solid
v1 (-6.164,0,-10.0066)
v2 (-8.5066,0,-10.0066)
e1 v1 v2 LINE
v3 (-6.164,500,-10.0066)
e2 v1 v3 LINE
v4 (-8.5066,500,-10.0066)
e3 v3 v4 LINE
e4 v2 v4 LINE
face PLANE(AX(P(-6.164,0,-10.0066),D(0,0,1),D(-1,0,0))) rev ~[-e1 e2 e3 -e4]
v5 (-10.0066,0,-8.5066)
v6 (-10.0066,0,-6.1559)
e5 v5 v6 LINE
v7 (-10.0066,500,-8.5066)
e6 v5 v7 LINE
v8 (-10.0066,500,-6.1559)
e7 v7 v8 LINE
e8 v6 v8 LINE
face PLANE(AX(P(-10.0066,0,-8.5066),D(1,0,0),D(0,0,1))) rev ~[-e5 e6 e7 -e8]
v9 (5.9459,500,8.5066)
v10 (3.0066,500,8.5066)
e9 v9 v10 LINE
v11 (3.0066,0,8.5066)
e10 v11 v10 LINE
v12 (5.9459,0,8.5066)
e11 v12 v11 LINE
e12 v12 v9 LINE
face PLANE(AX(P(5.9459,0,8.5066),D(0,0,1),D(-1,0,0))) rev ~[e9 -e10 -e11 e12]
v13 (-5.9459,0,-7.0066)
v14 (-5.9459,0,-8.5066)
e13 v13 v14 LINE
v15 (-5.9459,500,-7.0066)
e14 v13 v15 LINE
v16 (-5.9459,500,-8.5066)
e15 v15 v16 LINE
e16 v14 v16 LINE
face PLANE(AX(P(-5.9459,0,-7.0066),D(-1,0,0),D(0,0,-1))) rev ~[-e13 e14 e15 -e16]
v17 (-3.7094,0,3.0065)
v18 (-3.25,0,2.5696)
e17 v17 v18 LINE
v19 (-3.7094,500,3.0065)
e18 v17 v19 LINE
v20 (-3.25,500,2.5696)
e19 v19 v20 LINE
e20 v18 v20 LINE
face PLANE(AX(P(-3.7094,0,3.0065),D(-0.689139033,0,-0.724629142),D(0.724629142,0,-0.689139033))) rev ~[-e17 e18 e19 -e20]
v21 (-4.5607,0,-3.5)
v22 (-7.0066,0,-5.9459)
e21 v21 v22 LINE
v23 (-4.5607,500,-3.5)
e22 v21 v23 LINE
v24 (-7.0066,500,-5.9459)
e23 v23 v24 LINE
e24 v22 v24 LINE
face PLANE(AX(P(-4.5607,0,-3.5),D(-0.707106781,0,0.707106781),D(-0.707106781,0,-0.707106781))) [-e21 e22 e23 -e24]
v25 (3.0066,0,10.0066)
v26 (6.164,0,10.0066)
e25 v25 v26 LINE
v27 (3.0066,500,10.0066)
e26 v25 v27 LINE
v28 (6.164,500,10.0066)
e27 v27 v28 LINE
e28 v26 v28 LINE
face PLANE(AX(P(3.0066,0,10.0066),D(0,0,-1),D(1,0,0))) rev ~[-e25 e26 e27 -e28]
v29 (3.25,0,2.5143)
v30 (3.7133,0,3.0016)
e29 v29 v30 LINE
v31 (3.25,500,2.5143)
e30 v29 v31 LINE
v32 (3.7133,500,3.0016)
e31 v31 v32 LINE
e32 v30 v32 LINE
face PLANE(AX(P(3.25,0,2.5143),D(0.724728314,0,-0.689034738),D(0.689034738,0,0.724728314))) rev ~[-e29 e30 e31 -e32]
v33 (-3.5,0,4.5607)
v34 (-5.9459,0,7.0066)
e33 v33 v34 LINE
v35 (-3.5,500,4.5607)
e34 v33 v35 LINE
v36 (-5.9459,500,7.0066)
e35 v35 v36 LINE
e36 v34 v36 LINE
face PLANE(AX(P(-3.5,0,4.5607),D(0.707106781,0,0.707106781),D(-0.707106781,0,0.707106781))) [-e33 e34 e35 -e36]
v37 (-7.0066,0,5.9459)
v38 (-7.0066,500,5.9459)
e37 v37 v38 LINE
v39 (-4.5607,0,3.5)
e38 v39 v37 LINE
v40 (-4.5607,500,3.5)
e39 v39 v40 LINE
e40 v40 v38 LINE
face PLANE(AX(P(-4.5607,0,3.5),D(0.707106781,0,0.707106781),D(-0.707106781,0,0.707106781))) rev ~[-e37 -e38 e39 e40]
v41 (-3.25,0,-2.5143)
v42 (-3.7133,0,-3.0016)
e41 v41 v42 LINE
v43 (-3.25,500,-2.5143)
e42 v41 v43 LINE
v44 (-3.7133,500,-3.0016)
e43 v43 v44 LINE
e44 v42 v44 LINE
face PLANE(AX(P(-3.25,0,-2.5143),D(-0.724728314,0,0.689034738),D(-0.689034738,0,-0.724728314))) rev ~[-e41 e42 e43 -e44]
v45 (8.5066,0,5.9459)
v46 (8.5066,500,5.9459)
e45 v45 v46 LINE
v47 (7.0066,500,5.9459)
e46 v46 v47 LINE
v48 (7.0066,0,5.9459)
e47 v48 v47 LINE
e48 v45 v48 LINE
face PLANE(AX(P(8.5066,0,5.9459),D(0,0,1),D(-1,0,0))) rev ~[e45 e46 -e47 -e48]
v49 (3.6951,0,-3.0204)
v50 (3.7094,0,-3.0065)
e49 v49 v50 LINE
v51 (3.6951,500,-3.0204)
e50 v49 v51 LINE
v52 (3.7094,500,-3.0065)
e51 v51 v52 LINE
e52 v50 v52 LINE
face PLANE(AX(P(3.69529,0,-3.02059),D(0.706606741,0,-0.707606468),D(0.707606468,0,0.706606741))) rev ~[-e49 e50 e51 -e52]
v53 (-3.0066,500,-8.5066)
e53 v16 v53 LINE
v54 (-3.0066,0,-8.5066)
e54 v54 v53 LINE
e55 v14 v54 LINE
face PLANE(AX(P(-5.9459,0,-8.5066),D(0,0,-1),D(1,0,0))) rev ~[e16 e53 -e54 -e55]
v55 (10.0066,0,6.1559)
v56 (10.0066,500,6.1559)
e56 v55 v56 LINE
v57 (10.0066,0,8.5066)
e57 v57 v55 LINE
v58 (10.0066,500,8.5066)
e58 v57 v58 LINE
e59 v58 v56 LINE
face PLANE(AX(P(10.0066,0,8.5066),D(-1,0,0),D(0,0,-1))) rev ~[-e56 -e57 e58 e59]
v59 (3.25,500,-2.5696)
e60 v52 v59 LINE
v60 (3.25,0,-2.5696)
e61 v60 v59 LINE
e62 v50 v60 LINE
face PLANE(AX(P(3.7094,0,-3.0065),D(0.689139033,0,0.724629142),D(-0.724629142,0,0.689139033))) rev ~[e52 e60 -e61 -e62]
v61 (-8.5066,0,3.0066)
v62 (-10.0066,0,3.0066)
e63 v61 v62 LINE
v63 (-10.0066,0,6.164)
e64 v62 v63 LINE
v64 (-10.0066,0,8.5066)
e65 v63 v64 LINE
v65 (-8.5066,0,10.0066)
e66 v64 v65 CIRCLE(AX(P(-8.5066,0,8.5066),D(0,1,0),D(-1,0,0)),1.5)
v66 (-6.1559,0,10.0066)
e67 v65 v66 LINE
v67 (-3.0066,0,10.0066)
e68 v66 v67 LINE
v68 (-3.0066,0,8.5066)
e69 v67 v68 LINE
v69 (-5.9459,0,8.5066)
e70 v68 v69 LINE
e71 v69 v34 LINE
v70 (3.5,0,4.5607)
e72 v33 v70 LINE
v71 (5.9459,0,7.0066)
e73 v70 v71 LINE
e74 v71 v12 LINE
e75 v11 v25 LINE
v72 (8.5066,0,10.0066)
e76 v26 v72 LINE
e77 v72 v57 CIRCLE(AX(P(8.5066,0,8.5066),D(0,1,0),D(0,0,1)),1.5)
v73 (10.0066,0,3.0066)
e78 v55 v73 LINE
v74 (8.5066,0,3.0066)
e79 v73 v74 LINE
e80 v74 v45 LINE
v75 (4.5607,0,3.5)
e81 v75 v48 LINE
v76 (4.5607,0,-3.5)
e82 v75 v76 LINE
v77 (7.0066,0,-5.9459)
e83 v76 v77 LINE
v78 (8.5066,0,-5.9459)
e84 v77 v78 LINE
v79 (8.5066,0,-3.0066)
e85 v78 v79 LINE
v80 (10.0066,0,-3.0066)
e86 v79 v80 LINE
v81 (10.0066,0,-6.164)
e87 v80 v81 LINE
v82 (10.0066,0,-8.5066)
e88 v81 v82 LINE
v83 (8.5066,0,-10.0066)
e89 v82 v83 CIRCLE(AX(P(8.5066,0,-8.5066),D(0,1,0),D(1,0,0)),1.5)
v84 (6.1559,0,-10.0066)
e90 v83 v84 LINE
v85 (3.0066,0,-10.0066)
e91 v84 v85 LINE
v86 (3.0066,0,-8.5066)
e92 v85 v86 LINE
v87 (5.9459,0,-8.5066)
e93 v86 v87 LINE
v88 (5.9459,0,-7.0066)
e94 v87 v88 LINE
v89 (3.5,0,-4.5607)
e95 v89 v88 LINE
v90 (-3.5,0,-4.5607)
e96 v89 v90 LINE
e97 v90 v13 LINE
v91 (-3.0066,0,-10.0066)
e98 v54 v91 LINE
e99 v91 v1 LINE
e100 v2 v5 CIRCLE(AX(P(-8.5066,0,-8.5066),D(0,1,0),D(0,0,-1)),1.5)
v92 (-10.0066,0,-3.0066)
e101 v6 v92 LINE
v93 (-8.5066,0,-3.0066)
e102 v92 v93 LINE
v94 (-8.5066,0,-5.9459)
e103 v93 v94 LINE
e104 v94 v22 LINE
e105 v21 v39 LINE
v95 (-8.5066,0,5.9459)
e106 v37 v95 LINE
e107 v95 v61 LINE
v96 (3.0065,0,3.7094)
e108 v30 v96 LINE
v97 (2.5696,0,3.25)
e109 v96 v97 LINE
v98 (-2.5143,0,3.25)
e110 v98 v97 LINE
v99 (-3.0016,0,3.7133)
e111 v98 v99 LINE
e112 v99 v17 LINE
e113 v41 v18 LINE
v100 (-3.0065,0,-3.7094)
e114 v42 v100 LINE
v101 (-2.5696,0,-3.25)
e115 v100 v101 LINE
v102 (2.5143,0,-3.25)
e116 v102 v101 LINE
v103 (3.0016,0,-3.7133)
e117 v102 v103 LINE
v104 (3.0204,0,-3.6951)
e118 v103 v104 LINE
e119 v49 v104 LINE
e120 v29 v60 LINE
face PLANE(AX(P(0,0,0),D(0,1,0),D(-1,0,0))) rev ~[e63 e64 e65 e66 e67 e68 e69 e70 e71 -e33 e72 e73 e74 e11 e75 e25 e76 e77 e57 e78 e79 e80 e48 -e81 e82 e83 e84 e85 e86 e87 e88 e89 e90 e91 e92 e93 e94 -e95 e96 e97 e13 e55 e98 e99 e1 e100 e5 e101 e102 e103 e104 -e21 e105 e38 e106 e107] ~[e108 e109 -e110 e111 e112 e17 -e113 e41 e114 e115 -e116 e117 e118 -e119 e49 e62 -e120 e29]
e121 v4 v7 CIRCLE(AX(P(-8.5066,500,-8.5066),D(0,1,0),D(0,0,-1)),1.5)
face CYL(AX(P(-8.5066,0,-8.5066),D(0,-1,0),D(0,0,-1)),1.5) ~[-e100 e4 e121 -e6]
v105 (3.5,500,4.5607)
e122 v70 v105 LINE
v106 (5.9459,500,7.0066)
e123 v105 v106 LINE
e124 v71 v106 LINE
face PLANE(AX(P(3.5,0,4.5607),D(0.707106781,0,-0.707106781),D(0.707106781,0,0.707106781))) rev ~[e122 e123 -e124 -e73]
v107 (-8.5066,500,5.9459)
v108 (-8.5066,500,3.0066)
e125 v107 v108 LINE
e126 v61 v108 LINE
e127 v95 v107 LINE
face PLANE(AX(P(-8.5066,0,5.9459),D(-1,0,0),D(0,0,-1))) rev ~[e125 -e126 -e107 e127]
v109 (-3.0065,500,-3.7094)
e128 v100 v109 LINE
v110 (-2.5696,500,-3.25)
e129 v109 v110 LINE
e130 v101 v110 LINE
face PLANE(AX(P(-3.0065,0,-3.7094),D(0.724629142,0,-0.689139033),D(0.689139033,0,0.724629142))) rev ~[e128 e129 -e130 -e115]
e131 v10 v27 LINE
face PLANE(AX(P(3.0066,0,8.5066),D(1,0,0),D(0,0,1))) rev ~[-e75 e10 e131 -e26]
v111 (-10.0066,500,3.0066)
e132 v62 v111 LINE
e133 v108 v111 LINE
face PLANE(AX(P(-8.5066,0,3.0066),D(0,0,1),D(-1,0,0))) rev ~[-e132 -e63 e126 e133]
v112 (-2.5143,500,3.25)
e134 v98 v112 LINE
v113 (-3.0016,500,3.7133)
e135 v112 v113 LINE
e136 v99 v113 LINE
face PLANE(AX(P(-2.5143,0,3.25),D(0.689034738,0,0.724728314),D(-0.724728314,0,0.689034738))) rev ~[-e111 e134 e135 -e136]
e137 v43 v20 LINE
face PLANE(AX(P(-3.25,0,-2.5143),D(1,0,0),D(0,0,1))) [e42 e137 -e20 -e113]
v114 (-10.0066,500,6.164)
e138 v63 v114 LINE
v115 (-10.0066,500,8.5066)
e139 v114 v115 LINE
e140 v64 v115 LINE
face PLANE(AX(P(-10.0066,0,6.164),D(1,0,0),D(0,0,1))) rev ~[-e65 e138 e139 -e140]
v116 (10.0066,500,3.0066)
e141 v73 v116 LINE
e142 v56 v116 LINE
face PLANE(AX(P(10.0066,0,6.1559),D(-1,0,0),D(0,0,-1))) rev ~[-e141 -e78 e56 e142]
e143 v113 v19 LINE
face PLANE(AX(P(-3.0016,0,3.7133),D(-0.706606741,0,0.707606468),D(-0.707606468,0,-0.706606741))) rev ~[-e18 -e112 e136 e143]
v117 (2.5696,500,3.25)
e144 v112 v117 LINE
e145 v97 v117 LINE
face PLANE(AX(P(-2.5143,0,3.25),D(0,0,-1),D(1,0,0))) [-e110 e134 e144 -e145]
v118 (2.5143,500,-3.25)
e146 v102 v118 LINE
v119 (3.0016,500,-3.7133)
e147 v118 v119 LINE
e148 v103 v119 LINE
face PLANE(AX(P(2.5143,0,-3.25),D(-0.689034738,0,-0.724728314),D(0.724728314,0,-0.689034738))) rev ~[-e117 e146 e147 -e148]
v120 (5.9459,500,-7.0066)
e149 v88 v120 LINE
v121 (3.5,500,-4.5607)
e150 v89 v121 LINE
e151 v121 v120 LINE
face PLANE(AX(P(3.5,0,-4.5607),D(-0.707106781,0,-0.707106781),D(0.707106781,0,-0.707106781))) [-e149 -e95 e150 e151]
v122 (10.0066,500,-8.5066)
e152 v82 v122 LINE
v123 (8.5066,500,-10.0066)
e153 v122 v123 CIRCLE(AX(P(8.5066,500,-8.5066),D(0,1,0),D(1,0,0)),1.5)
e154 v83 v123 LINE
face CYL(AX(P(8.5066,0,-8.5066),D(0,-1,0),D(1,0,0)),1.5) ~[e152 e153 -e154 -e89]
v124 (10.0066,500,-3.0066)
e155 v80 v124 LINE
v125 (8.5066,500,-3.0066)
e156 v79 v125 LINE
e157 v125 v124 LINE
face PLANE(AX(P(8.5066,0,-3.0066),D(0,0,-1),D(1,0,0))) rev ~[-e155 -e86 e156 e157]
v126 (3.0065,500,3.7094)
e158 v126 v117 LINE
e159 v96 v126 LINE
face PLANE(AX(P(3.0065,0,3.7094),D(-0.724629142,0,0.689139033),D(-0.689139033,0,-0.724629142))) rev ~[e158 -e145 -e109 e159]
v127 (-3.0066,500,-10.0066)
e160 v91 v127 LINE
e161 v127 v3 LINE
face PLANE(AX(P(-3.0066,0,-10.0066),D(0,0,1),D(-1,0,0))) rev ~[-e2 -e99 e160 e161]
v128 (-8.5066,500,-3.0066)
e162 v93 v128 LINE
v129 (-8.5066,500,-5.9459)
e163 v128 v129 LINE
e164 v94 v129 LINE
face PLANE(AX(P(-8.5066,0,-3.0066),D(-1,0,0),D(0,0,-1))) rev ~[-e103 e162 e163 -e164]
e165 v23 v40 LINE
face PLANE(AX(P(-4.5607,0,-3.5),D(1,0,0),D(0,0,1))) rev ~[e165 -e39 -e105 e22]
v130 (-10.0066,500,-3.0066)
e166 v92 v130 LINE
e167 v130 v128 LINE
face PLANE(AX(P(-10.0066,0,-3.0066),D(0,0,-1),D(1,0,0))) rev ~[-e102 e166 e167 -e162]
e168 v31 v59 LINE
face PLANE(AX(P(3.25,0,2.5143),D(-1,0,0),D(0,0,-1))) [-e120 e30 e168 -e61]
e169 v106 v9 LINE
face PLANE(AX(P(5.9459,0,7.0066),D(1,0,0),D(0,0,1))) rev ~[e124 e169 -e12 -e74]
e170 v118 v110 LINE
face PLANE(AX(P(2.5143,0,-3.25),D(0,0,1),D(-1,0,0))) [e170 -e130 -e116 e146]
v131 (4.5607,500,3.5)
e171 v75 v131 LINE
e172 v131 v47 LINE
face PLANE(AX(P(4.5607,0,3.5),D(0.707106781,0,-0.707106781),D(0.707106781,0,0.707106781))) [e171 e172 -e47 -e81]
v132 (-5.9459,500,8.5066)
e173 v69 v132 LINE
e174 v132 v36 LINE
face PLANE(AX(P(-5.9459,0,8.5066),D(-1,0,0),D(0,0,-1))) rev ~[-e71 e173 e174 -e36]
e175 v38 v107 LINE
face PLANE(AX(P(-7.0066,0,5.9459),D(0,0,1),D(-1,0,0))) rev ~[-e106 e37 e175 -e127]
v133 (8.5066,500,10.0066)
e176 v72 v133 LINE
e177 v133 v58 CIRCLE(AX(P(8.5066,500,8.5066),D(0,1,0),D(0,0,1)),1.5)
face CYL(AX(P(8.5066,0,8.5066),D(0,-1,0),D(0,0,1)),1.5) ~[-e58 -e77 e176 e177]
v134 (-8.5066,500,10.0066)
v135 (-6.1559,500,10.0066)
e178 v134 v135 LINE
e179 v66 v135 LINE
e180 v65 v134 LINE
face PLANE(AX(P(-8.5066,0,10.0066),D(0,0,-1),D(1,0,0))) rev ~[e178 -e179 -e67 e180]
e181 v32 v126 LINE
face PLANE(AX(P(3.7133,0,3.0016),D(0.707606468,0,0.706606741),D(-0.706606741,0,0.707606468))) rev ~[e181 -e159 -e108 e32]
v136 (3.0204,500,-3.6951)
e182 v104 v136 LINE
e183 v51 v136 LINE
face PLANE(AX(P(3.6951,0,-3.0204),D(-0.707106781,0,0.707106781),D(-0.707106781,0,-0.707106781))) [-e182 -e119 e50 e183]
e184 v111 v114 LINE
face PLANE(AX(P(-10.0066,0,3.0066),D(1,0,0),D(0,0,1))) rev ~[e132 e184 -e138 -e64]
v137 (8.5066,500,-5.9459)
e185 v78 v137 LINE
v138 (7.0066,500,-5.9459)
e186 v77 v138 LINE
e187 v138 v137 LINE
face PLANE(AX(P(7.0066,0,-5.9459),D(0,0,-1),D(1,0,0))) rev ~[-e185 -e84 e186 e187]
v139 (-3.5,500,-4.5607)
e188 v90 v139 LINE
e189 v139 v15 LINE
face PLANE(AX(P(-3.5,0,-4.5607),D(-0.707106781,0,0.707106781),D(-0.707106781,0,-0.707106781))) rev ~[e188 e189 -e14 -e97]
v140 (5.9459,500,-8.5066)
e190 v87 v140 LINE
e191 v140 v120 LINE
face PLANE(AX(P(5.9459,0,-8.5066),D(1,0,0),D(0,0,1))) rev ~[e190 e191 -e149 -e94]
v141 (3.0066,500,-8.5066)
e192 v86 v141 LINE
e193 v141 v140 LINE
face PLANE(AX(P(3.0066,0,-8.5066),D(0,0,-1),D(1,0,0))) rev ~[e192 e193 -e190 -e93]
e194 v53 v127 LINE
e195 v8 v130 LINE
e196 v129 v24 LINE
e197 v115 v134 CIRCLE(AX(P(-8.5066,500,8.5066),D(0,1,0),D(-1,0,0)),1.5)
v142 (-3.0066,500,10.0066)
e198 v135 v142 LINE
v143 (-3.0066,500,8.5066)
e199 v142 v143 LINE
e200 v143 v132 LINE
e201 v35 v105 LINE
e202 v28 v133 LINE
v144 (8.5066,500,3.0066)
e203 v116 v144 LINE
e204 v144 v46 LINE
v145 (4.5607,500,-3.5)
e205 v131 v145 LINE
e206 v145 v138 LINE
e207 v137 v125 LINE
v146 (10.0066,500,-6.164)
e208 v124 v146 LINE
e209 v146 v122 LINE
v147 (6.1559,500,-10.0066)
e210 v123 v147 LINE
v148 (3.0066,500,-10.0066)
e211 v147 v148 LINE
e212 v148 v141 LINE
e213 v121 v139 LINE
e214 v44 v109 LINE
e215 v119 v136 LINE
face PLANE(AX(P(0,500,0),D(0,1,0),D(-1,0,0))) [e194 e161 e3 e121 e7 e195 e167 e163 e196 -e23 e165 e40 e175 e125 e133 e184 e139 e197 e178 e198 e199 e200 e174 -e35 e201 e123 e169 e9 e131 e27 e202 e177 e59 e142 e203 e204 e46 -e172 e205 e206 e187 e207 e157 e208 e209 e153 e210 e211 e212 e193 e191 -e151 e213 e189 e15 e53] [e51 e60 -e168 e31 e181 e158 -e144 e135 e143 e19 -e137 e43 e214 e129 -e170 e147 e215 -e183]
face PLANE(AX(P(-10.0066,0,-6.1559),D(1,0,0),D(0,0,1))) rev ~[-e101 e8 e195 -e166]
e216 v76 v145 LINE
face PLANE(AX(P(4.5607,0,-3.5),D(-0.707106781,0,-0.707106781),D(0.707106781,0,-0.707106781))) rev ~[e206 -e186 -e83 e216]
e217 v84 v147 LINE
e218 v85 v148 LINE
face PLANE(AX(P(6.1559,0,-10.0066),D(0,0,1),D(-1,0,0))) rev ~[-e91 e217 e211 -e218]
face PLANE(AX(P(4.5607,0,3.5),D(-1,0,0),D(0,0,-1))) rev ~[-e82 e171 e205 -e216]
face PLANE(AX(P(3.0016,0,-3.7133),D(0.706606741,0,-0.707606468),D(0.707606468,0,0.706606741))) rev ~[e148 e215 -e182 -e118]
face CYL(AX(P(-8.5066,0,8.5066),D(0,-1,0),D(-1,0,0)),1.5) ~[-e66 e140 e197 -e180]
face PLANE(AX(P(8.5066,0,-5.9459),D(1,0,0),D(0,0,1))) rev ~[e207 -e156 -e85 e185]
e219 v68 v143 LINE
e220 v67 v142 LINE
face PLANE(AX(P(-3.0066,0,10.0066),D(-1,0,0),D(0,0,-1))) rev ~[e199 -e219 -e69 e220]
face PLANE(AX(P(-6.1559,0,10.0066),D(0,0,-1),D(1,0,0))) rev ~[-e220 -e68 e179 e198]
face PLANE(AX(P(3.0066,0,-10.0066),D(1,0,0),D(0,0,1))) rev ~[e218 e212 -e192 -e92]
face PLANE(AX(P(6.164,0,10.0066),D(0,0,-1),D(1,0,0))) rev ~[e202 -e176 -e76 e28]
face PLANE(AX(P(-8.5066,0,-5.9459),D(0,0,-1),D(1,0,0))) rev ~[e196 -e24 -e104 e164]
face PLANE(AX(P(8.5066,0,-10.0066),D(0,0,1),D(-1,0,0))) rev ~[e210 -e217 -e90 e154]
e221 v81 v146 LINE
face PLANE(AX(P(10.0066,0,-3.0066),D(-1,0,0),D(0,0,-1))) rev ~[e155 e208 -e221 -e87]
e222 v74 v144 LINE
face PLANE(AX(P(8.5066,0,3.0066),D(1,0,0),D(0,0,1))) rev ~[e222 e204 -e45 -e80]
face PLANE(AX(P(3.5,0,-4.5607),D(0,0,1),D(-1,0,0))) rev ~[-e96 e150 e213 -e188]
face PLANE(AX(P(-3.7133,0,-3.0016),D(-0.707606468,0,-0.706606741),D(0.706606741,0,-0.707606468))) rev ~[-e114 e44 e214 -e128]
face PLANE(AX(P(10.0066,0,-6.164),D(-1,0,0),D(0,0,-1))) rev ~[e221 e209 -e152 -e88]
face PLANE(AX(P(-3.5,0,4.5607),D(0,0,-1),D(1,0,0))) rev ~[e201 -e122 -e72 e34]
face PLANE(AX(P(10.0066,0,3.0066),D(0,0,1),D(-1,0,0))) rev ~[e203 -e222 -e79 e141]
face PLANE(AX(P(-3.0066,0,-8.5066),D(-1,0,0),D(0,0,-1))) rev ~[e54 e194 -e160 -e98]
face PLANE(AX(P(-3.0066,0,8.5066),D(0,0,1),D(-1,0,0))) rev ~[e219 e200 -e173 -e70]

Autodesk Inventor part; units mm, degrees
ref_plane "YZ Plane" through (0, 0, 0) normal (1, 0, 0) x (0, 1, 0)
ref_plane "XZ Plane" through (0, 0, 0) normal (0, 1, 0) x (-1, 0, 0)
ref_plane "XY Plane" through (0, 0, 0) normal (0, 0, 1) x (1, 0, 0)
sketch "Sketch1" plane through (0, 0, 0) normal (0, 1, 0) x (-1, 0, 0)
  line L0 (-8.5066, -10.0066) -> (8.5066, -10.0066)
  line L1 (10.0066, -9.9934) -> (10.0066, 8.5066) construction
  line L2 (8.5066, 10.0066) -> (-9.9934, 10.0066) construction
  line L3 (-10.0066, 8.5066) -> (-10.0066, -8.5066)
  line L4 (-10.0066, -10.0066) -> (10.0066, 10.0066) construction
  line L5 (10.0066, -9.9934) -> (-9.5735, 9.5609) construction
  line L6 (-3.5, -4.5607) -> (3.5, -4.5607)
  line L7 (4.5607, -3.5) -> (4.5607, 3.5)
  line L8 (3.5, 4.5607) -> (-3.5, 4.5607)
  line L9 (-4.5607, 3.5) -> (-4.5607, -3.5)
  line L10 (-4.75, -4.75) -> (4.75, 4.75) construction
  line L11 (8.5066, 10.0066) -> (6.1559, 10.0066)
  line L12 (5.9459, 8.5066) -> (5.9459, 7.0066)
  line L13 (7.0066, 5.9459) -> (8.5066, 5.9459)
  line L14 (10.0066, 6.164) -> (10.0066, 8.5066)
  line L15 (-3.25, -3.25) -> (3.25, 3.25) construction
  line L16 (3.25, -3.25) -> (-3.25, 3.25) construction
  line L17 (0, 0) -> (20.0131, 20.0131) construction
  line L18 (8.5066, 5.9459) -> (8.5066, 3.0066)
  line L19 (8.5066, 3.0066) -> (10.0066, 3.0066)
  line L20 (10.0066, 3.0066) -> (10.0066, 6.164)
  line L21 (6.1559, 10.0066) -> (3.0066, 10.0066)
  line L22 (3.0066, 10.0066) -> (3.0066, 8.5066)
  line L23 (3.0066, 8.5066) -> (5.9459, 8.5066)
  arc A0 (10.0066, 8.5066) -> (8.5066, 10.0066) centre (8.5066, 8.5066) ccw
  line L24 (0, -13.1094) -> (0, 17.292) construction
  line L25 (14.9507, 0) -> (-14.3529, 0) construction
  circle A1 centre (0, 0) radius 4.5962 construction
  line L26 (4.5607, 3.5) -> (7.0066, 5.9459)
  line L27 (3.5, 4.5607) -> (5.9459, 7.0066)
  line L28 (5.7658, 4.7051) -> (5.2355, 5.2355) construction
  line L29 (3.0066, 10.0066) -> (8.5066, 10.0066)
  line L30 (10.0066, 3.0066) -> (10.0066, 8.5066)
  line L31 (-88.3377, -18.3534) -> (-20.6276, -18.3534) construction
  line L32 (-20.6276, -18.3534) -> (-20.6276, -138.727) construction
  line L33 (-20.6276, -138.727) -> (-88.3377, -138.727) construction
  line L34 (-88.3377, -138.727) -> (-88.3377, -18.3534) construction
  line L35 (-10.0066, 8.5066) -> (-10.0066, 6.1559)
  arc A2 (-8.5066, 10.0066) -> (-10.0066, 8.5066) centre (-8.5066, 8.5066) ccw
  line L36 (-6.164, 10.0066) -> (-8.5066, 10.0066)
  line L37 (9.9934, 10.0066) -> (-8.5066, 10.0066) construction
  line L38 (-3.0066, 10.0066) -> (-6.164, 10.0066)
  line L39 (-5.9459, 8.5066) -> (-3.0066, 8.5066)
  line L40 (-3.0066, 8.5066) -> (-3.0066, 10.0066)
  line L41 (-5.9459, 7.0066) -> (-5.9459, 8.5066)
  line L42 (-3.5, 4.5607) -> (-5.9459, 7.0066)
  line L43 (-4.5607, 3.5) -> (-7.0066, 5.9459)
  line L44 (-8.5066, 5.9459) -> (-7.0066, 5.9459)
  line L45 (-8.5066, 3.0066) -> (-8.5066, 5.9459)
  line L46 (-10.0066, 8.5066) -> (-10.0066, -9.9934) construction
  line L47 (-10.0066, 3.0066) -> (-8.5066, 3.0066)
  line L48 (-10.0066, 6.1559) -> (-10.0066, 3.0066)
  line L49 (-8.5066, -10.0066) -> (-6.1559, -10.0066)
  arc A3 (-10.0066, -8.5066) -> (-8.5066, -10.0066) centre (-8.5066, -8.5066) ccw
  line L50 (-10.0066, -6.164) -> (-10.0066, -8.5066)
  line L51 (-10.0066, 9.9934) -> (-10.0066, -8.5066) construction
  line L52 (-10.0066, -3.0066) -> (-10.0066, -6.164)
  line L53 (-8.5066, -5.9459) -> (-8.5066, -3.0066)
  line L54 (-8.5066, -3.0066) -> (-10.0066, -3.0066)
  line L55 (-7.0066, -5.9459) -> (-8.5066, -5.9459)
  line L56 (-4.5607, -3.5) -> (-7.0066, -5.9459)
  line L57 (-3.5, -4.5607) -> (-5.9459, -7.0066)
  line L58 (-5.9459, -8.5066) -> (-5.9459, -7.0066)
  line L59 (-3.0066, -8.5066) -> (-5.9459, -8.5066)
  line L60 (-8.5066, -10.0066) -> (9.9934, -10.0066) construction
  line L61 (-3.0066, -10.0066) -> (-3.0066, -8.5066)
  line L62 (-6.1559, -10.0066) -> (-3.0066, -10.0066)
  line L63 (10.0066, -8.5066) -> (10.0066, -6.1559)
  arc A4 (8.5066, -10.0066) -> (10.0066, -8.5066) centre (8.5066, -8.5066) ccw
  line L64 (6.164, -10.0066) -> (8.5066, -10.0066)
  line L65 (-9.9934, -10.0066) -> (8.5066, -10.0066) construction
  line L66 (3.0066, -10.0066) -> (6.164, -10.0066)
  line L67 (5.9459, -8.5066) -> (3.0066, -8.5066)
  line L68 (3.0066, -8.5066) -> (3.0066, -10.0066)
  line L69 (5.9459, -7.0066) -> (5.9459, -8.5066)
  line L70 (3.5, -4.5607) -> (5.9459, -7.0066)
  line L71 (4.5607, -3.5) -> (7.0066, -5.9459)
  line L72 (8.5066, -5.9459) -> (7.0066, -5.9459)
  line L73 (8.5066, -3.0066) -> (8.5066, -5.9459)
  line L74 (10.0066, -8.5066) -> (10.0066, 9.9934) construction
  line L75 (10.0066, -3.0066) -> (8.5066, -3.0066)
  line L76 (10.0066, -6.1559) -> (10.0066, -3.0066)
  line L77 (-3.6951, -3.0204) -> (-3.0204, -3.6951)
  line L78 (-3.0204, -3.6951) -> (3.0204, 3.6951) construction
  line L79 (3.6951, 3.0204) -> (-3.6951, -3.0204) construction
  line L80 (3.7133, -3.0016) -> (3.0065, -3.7094)
  line L81 (3.0065, -3.7094) -> (-3.1656, 3.9057) construction
  line L82 (-3.8767, 3.1337) -> (3.7133, -3.0016) construction
  line L83 (3.7133, -3.0016) -> (3.0065, -3.7094)
  line L84 (0.4404, 0.4404) -> (0.8591, 0)
  line L85 (3.25, -2.5143) -> (3.7133, -3.0016)
  line L86 (3.0065, -3.7094) -> (2.5696, -3.25)
  line L87 (0, -0.5477) -> (-0.267, -0.267)
  line L88 (3.25, -3.25) -> (3.25, -3.2457)
  line L89 (3.25, -2.5143) -> (3.25, 2.5696)
  line L90 (2.5143, 3.25) -> (3.0016, 3.7133)
  line L91 (3.0016, 3.7133) -> (3.7094, 3.0065)
  line L92 (3.7094, 3.0065) -> (3.25, 2.5696)
  line L93 (-3.25, 2.5143) -> (-3.7133, 3.0016)
  line L94 (-3.7133, 3.0016) -> (-3.0065, 3.7094)
  line L95 (-3.0065, 3.7094) -> (-2.5696, 3.25)
  line L96 (-2.5143, -3.25) -> (-3.0016, -3.7133)
  line L97 (-3.0016, -3.7133) -> (-3.7094, -3.0065)
  line L98 (-3.7094, -3.0065) -> (-3.25, -2.5696)
  line L99 (-2.5143, -3.25) -> (2.5696, -3.25)
  line L100 (-3.25, 3.25) -> (-3.25, 3.2457)
  line L101 (-3.25, 2.5143) -> (-3.25, -2.5696)
  line L102 (2.5143, 3.25) -> (-2.5696, 3.25)
  point P0 (5.9459, 7.7566)
  point P1 (-10.0066, 10.0066)
  point P2 (-4.7051, 5.7658)
  point P3 (-7.7566, 5.9459)
  point P4 (-10.0066, -10.0066)
  point P5 (-5.7658, -4.7051)
  point P6 (-5.9459, -7.7566)
  point P7 (10.0066, -10.0066)
  point P8 (4.7051, -5.7658)
  point P9 (7.7566, -5.9459)
  point P10 (3.3599, -3.3555)
  point P11 (0.5158, 0.631)
  point P12 (3.3555, 3.3599)
  point P13 (-3.3599, 3.3555)
  point P14 (-3.3555, -3.3599)
  dimension "d0" = 20
  dimension "d1" = 1.5
  dimension "d2" = 1.5
  dimension "d3" = 1.5
  dimension "d4" = 0.75
  dimension "d5" = 7
  dimension "d6" = 7
  dimension "d46" = 1.5
  dimension "d57" = 360
  dimension "d61" = 7
  dimension "d66" = 360
extrude "Extrusion1" add sketch "Sketch1" along normal blind 500 contours A3 L3 L54 L53 L55 L56 L9 L43 L44 L45 L47 A2 L36 L38 L40 L39 L41 L42 L8 L27 L12 L23 L22 L21 L11 A0 L14 L20 L19 L18 L13 L26 L7 L71 L72 L73 L75 L76 L63 A4 L0 L68 L67 L69 L70 L6 L57 L58 L59 L61
properties part number "SIDE_BEAMSipt-01" material "Aluminum 6061"
